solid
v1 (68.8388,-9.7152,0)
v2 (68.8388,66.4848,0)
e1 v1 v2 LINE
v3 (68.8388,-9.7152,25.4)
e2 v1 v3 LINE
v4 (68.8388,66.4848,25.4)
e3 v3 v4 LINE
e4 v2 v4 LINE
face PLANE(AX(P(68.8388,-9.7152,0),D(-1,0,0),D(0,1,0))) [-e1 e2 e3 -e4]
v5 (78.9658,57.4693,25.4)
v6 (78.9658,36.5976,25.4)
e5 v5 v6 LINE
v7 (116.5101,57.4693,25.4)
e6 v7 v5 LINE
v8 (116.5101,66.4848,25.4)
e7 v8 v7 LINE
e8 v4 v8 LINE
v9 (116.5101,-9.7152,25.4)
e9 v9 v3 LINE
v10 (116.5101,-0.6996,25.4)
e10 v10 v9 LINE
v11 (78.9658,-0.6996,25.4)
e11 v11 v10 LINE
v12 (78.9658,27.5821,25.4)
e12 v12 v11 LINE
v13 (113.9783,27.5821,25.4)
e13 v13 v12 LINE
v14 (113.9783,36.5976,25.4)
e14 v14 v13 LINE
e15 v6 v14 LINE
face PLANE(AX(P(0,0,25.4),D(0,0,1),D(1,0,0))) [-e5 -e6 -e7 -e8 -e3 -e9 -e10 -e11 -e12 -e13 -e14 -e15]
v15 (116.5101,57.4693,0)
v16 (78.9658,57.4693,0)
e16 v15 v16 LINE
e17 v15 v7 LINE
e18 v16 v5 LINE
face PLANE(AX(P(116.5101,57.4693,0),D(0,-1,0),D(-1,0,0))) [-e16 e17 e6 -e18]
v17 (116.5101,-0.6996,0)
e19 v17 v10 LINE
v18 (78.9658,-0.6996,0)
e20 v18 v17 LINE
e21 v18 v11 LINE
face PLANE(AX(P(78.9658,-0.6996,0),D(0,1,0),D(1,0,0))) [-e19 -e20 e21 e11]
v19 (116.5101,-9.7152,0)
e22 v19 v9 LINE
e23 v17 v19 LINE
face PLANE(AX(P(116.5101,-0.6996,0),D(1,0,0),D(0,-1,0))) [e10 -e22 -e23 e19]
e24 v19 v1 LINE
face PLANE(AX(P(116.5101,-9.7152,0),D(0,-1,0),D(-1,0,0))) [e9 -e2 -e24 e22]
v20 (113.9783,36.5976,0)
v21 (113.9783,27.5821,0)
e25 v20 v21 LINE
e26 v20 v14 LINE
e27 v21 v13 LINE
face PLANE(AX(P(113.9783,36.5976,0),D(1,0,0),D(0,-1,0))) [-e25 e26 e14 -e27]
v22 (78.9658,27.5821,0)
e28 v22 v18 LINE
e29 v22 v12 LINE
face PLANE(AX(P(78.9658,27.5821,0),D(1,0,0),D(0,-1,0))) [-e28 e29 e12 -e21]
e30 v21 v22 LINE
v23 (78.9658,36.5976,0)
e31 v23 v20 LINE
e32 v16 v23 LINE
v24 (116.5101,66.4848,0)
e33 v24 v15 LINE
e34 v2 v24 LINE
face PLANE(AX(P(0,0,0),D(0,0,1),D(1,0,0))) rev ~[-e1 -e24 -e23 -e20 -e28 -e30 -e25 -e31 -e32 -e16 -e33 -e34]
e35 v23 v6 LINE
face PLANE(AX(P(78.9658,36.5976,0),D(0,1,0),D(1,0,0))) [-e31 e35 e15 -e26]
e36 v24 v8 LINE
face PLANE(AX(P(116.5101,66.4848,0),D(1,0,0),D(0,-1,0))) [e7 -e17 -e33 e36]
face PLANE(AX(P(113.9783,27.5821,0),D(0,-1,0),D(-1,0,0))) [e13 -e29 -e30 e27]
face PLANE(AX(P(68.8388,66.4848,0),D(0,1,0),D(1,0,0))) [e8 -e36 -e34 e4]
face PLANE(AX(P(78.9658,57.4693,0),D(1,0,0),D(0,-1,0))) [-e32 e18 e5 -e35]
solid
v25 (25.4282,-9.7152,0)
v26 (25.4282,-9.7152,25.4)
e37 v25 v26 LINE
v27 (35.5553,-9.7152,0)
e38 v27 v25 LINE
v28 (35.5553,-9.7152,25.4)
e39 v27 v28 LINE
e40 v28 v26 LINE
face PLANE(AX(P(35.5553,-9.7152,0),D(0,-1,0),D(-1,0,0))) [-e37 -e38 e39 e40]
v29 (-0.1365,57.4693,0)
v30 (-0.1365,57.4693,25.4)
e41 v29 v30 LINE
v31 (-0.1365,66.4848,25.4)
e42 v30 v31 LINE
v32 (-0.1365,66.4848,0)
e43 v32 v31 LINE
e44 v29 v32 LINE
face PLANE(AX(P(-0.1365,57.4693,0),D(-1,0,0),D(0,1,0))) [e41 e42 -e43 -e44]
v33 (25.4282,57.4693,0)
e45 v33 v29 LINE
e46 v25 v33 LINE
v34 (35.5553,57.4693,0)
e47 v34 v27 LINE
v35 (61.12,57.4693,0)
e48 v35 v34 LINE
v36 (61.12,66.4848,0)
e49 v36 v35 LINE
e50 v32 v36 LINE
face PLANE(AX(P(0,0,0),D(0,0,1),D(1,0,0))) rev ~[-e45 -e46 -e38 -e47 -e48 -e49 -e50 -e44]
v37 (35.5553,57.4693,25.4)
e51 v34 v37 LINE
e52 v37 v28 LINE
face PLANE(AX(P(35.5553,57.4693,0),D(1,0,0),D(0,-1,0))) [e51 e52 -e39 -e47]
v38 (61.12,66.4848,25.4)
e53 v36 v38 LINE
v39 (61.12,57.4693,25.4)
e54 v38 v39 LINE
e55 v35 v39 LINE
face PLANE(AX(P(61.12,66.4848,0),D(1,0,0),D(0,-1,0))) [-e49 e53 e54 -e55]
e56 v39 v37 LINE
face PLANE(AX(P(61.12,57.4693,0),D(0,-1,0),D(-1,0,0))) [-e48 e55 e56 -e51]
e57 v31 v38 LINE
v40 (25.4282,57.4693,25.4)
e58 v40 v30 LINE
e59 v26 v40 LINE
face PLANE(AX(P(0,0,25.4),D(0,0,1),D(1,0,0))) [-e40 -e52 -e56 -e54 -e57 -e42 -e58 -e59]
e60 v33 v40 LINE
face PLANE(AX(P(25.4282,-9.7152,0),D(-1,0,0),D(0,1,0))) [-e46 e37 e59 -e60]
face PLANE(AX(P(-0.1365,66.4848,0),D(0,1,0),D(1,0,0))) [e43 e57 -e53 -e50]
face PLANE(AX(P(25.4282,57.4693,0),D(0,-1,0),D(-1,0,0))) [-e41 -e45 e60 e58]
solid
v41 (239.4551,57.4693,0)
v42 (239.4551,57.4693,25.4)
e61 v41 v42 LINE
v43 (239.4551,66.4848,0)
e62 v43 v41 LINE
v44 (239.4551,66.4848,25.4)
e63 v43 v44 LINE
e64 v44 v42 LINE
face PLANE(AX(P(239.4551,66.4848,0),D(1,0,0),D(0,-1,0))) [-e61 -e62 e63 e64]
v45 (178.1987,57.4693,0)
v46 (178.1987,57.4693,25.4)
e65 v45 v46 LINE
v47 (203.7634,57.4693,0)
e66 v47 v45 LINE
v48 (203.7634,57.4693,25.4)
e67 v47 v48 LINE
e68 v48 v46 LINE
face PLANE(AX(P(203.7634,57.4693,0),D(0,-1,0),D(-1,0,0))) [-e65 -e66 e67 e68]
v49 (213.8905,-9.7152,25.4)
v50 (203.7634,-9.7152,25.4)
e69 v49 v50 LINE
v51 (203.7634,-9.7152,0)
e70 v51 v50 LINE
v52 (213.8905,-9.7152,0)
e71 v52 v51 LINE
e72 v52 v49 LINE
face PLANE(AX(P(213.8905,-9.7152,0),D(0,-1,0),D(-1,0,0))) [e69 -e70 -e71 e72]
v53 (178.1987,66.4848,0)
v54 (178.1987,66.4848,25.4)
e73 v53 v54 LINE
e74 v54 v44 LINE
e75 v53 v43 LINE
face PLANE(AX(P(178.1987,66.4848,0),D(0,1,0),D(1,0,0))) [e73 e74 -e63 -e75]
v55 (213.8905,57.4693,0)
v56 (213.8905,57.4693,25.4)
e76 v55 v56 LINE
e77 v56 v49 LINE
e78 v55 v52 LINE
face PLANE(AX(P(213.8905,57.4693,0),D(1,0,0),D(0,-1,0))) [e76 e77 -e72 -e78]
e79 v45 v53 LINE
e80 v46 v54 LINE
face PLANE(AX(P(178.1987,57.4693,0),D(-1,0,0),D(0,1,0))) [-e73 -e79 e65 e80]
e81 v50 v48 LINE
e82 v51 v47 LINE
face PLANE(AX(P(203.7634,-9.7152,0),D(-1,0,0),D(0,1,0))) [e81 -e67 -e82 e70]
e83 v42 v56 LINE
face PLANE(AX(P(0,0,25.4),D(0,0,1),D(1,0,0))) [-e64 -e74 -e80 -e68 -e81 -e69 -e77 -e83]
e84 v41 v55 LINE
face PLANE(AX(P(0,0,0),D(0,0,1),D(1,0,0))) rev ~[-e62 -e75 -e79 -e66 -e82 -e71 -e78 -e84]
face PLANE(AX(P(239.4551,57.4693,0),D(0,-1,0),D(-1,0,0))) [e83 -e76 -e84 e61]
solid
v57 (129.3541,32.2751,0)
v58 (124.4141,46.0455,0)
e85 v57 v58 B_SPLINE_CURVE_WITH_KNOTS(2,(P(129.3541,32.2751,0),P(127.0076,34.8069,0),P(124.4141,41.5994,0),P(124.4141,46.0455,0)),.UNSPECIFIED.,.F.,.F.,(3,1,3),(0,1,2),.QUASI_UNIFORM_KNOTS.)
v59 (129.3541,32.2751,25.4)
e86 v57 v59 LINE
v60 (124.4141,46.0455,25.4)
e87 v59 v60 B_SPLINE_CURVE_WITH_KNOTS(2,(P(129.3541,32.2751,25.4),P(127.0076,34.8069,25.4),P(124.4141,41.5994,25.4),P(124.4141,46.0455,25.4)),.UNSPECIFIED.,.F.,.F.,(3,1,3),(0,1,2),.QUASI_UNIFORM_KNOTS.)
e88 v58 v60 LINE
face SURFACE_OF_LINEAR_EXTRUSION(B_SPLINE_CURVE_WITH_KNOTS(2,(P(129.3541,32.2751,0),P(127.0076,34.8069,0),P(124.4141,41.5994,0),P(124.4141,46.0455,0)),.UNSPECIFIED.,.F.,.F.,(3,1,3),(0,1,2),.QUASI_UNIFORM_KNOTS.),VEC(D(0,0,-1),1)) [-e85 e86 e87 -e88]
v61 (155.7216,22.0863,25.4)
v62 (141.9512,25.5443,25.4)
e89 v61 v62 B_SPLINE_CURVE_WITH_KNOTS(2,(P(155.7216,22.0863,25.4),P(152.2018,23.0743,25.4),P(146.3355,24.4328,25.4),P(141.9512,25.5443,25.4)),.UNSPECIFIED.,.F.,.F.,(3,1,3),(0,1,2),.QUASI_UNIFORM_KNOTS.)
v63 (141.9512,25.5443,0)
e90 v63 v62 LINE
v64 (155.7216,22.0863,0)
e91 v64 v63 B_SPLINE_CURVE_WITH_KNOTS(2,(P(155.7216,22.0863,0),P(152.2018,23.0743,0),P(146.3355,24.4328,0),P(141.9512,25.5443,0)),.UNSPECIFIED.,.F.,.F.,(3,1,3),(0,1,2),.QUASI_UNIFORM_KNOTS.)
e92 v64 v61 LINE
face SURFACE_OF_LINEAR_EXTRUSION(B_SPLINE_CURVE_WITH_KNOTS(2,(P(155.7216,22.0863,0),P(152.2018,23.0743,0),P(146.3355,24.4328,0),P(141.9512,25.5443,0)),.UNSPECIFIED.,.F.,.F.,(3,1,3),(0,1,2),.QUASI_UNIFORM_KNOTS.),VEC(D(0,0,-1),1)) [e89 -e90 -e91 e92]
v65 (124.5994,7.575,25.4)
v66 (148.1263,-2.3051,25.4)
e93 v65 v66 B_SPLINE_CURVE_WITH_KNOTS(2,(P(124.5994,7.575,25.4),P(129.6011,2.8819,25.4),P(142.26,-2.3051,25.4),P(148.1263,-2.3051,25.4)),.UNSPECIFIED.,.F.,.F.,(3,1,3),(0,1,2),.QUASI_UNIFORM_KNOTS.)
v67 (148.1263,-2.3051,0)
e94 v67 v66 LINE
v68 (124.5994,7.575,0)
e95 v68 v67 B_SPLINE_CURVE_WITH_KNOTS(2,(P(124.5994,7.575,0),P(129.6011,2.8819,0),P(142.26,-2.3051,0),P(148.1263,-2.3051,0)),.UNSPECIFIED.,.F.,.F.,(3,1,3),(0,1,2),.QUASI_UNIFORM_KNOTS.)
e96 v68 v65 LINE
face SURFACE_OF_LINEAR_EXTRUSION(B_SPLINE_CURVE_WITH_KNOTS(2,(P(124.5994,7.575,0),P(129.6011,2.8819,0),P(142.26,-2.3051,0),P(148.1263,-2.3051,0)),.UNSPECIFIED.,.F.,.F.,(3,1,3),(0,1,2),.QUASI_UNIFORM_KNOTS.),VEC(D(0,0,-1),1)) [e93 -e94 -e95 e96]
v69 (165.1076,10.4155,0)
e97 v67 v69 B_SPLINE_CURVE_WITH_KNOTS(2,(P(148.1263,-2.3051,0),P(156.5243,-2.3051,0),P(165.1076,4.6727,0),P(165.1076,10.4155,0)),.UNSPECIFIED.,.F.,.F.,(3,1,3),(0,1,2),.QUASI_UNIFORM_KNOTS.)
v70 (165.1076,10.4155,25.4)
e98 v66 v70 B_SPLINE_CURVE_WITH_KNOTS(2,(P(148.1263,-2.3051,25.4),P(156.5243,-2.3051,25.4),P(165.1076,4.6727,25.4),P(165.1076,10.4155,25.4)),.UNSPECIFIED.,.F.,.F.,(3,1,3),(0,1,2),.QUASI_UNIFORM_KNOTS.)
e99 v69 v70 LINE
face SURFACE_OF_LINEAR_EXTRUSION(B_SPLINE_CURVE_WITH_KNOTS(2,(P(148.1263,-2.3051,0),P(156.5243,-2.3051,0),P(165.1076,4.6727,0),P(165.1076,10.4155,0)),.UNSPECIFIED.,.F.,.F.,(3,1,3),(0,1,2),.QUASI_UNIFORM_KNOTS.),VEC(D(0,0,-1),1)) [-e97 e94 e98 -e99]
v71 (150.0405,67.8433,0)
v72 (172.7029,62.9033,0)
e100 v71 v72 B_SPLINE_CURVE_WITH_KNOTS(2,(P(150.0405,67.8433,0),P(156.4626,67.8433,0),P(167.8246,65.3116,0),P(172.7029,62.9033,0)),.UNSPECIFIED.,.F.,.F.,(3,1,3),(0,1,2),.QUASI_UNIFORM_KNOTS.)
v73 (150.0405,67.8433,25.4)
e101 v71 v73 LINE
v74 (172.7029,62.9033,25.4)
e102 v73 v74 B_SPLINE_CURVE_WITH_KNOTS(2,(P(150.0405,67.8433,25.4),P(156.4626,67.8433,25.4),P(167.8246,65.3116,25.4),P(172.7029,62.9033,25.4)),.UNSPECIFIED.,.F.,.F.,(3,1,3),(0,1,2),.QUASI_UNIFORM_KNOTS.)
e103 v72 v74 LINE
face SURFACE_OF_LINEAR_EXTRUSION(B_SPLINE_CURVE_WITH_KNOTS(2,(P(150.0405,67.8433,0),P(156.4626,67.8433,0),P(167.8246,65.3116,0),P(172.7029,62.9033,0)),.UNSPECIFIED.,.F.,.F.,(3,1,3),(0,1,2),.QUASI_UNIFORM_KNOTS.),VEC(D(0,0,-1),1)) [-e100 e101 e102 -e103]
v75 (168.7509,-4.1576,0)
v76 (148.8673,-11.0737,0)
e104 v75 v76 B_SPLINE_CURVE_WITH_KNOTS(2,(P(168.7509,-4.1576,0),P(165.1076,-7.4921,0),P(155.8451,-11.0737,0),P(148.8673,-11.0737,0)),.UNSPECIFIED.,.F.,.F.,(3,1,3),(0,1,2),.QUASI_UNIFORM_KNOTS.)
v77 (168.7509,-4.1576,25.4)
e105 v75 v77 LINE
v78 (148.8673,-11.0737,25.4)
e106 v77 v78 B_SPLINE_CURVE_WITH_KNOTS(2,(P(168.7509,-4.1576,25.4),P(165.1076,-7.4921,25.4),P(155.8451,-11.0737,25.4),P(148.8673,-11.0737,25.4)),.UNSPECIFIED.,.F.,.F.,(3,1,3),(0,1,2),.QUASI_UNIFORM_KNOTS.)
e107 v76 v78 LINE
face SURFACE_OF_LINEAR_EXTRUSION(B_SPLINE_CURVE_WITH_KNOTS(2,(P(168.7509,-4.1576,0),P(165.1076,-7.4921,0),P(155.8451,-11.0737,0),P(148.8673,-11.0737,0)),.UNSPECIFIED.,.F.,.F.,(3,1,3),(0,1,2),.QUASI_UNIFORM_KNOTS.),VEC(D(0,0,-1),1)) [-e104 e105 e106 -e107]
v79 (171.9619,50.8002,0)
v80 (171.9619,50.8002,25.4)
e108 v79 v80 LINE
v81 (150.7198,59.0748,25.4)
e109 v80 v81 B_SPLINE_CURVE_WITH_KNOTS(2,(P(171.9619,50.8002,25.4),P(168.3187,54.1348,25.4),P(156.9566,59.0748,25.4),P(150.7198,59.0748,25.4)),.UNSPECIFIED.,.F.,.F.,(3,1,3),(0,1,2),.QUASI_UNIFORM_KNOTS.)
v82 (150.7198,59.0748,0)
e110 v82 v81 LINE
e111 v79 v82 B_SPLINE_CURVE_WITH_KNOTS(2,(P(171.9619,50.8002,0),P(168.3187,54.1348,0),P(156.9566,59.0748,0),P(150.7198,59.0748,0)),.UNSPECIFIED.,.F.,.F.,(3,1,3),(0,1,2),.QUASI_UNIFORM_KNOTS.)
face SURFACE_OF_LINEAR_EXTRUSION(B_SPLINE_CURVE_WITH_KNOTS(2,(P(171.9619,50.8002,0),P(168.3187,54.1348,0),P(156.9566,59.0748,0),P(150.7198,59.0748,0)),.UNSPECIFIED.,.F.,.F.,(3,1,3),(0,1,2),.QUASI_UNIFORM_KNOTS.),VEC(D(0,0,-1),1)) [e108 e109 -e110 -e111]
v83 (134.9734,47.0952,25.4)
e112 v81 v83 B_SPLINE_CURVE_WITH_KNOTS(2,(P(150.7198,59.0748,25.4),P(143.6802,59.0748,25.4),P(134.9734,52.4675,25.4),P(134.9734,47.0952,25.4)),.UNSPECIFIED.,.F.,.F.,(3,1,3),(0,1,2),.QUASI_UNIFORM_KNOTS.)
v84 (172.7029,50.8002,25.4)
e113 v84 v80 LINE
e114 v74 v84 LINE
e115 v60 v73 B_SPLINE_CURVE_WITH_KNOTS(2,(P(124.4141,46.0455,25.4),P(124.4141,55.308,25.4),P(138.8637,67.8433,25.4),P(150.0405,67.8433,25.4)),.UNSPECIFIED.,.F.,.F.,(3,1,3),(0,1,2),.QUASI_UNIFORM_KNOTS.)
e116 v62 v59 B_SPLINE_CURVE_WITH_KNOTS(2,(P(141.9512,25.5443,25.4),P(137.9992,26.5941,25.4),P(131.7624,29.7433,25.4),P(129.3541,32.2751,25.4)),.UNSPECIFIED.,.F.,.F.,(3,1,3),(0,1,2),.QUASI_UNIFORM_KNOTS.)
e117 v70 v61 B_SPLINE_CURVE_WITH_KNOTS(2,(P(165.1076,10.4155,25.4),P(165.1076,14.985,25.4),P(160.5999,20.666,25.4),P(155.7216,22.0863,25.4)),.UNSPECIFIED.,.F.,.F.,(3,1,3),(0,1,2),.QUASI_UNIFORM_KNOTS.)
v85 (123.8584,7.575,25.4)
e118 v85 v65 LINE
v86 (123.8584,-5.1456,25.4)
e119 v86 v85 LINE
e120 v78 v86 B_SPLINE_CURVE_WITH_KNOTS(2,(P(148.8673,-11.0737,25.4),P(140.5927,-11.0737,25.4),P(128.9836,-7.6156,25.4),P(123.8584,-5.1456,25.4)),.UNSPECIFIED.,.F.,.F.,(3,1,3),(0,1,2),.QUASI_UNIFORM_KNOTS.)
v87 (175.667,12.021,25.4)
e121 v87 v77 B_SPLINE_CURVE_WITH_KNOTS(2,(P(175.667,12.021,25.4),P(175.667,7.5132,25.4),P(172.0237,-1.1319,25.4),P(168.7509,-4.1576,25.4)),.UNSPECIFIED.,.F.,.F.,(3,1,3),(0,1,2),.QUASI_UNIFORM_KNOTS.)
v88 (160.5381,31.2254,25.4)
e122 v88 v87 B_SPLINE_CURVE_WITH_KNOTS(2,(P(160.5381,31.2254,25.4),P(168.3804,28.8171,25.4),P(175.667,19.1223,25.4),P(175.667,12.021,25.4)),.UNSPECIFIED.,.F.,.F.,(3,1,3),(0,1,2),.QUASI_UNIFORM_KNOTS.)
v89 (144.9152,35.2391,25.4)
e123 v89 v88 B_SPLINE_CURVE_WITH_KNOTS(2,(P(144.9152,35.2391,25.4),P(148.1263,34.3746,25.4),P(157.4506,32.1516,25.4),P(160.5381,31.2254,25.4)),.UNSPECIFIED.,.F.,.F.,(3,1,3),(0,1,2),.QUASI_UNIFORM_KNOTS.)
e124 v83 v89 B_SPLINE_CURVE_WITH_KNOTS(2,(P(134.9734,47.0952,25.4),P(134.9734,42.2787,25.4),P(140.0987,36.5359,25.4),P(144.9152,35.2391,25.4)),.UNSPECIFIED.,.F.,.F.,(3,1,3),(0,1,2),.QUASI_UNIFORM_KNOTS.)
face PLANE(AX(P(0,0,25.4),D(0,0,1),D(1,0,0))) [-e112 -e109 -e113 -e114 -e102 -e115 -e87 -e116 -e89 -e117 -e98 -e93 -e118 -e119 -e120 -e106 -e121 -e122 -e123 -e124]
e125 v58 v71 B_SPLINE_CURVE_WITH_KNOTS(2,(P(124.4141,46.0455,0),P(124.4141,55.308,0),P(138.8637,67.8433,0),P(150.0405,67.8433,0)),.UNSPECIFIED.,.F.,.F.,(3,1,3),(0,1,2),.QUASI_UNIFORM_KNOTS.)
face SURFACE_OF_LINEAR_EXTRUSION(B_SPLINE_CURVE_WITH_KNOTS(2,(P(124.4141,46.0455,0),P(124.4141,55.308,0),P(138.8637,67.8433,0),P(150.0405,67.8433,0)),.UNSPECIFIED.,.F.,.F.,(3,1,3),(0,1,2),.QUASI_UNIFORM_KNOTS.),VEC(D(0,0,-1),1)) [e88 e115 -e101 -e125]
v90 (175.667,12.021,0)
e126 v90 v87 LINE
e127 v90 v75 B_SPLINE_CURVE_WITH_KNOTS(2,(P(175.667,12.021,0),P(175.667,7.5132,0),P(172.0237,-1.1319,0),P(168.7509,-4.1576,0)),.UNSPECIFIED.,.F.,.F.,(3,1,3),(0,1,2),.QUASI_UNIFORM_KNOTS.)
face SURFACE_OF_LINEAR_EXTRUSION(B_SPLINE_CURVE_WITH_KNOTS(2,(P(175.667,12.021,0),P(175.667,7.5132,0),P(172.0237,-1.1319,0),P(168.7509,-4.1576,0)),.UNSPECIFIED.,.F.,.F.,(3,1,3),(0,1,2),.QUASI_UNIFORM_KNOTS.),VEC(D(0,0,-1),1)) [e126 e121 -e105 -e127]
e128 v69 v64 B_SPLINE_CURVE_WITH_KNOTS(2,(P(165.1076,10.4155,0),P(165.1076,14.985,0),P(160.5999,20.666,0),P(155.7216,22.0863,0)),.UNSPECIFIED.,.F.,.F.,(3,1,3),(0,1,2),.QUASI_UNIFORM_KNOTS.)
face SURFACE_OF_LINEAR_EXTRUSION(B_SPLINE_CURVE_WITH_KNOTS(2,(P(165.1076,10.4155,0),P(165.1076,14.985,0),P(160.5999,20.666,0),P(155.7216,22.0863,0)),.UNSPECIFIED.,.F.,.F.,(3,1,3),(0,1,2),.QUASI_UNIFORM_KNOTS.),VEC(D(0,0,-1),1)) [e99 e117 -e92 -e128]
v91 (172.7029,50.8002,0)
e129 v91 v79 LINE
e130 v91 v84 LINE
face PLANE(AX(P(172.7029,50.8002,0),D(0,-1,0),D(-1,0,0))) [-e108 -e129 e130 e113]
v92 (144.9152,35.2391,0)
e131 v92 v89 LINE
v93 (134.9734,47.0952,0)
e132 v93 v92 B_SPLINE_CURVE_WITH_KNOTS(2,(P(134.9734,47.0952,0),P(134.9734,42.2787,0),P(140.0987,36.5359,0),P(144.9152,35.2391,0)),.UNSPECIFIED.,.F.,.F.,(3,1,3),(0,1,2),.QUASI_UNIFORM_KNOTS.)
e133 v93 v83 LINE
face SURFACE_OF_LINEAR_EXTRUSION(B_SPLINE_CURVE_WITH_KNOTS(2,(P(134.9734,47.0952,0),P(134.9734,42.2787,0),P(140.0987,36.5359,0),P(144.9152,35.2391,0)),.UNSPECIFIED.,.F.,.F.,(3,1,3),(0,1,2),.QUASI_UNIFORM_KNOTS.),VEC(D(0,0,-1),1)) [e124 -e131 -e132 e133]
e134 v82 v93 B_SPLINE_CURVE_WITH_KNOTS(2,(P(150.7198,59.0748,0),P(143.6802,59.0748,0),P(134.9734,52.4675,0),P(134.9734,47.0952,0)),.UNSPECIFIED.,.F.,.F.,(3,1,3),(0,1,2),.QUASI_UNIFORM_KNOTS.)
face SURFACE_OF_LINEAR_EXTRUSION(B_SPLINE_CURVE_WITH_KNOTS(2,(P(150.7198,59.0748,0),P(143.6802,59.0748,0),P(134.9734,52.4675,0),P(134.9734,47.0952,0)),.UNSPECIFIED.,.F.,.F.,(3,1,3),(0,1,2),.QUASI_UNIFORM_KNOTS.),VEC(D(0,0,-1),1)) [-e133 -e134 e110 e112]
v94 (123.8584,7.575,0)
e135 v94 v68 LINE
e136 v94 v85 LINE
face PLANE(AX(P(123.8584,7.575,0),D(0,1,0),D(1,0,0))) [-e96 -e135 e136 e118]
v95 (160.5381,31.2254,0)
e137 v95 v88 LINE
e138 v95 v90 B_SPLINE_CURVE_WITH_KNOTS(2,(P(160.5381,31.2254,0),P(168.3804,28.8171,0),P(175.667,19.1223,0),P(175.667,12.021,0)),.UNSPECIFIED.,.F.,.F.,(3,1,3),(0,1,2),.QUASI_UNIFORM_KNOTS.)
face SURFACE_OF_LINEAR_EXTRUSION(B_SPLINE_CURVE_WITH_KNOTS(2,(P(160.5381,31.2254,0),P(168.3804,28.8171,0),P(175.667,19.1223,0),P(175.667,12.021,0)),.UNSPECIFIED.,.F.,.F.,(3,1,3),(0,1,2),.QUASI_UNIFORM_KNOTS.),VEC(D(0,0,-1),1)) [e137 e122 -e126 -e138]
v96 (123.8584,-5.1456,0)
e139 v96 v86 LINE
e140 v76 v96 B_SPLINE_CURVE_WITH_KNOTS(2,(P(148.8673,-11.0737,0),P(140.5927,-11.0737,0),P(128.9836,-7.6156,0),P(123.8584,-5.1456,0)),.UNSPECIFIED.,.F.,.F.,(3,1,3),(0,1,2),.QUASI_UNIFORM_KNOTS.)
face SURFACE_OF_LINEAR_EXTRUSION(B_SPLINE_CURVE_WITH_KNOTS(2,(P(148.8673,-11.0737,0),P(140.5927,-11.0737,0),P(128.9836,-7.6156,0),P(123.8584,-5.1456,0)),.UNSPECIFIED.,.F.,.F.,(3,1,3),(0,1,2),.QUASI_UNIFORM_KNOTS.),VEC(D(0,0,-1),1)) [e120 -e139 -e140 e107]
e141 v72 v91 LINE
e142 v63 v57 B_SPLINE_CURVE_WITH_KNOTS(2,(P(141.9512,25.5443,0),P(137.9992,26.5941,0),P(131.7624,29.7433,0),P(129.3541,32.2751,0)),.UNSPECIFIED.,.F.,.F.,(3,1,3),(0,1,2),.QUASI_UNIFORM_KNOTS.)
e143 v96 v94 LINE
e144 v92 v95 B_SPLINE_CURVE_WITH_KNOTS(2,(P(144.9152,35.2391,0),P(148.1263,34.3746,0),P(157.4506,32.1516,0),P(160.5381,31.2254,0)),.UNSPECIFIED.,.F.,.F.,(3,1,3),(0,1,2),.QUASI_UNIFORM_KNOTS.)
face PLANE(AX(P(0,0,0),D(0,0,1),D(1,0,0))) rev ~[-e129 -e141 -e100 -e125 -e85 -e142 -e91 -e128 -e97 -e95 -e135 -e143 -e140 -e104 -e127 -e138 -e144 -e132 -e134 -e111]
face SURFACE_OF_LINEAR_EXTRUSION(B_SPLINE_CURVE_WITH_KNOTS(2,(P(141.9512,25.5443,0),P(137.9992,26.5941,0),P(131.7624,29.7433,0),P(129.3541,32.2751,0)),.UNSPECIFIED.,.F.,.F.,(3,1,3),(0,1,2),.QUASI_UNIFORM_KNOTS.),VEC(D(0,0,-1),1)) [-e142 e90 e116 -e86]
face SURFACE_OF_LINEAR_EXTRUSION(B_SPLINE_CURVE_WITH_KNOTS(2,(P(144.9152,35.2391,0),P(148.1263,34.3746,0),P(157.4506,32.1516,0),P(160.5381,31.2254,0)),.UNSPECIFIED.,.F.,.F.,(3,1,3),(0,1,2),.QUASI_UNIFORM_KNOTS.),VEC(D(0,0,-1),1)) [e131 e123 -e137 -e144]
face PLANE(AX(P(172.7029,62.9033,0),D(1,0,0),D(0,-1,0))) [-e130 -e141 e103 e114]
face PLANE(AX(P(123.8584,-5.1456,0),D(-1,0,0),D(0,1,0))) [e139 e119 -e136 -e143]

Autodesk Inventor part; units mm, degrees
ref_plane "YZ Plane" through (0, 0, 0) normal (1, 0, 0) x (0, 1, 0)
ref_plane "XZ Plane" through (0, 0, 0) normal (0, 1, 0) x (-1, 0, 0)
ref_plane "XY Plane" through (0, 0, 0) normal (0, 0, 1) x (1, 0, 0)
sketch "Sketch1" plane through (0, 0, 0) normal (0, 0, 1) x (1, 0, 0)
  line L0 (-0.0747, 67.8433) -> (64.3882, 67.8433) construction
  line L1 (64.3882, 67.8433) -> (64.3882, 0.2263) construction
  line L2 (64.3882, 0.2263) -> (-0.0747, 0.2263) construction
  line L3 (-0.0747, 0.2263) -> (-0.0747, 67.8433) construction
  line L4 (25.4282, -9.7152) -> (25.4282, 57.4693)
  line L5 (25.4282, 57.4693) -> (-0.1365, 57.4693)
  line L6 (-0.1365, 57.4693) -> (-0.1365, 66.4848)
  line L7 (-0.1365, 66.4848) -> (61.12, 66.4848)
  line L8 (61.12, 66.4848) -> (61.12, 57.4693)
  line L9 (61.12, 57.4693) -> (35.5553, 57.4693)
  line L10 (35.5553, 57.4693) -> (35.5553, -9.7152)
  line L11 (35.5553, -9.7152) -> (25.4282, -9.7152)
  line L12 (68.8388, -9.7152) -> (68.8388, 66.4848)
  line L13 (68.8388, 66.4848) -> (116.5101, 66.4848)
  line L14 (116.5101, 66.4848) -> (116.5101, 57.4693)
  line L15 (116.5101, 57.4693) -> (78.9658, 57.4693)
  line L16 (78.9658, 57.4693) -> (78.9658, 36.5976)
  line L17 (78.9658, 36.5976) -> (113.9783, 36.5976)
  line L18 (113.9783, 36.5976) -> (113.9783, 27.5821)
  line L19 (113.9783, 27.5821) -> (78.9658, 27.5821)
  line L20 (78.9658, 27.5821) -> (78.9658, -0.6996)
  line L21 (78.9658, -0.6996) -> (116.5101, -0.6996)
  line L22 (116.5101, -0.6996) -> (116.5101, -9.7152)
  line L23 (116.5101, -9.7152) -> (68.8388, -9.7152)
  spline S0 degree 2 poles (148.8673, -11.0737) (140.5927, -11.0737) (128.9836, -7.6156) (123.8584, -5.1456) knots 0 0 0 1 2 2 2
  line L24 (123.8584, -5.1456) -> (123.8584, 7.575)
  line L25 (123.8584, 7.575) -> (124.5994, 7.575)
  spline S1 degree 2 poles (124.5994, 7.575) (129.6011, 2.8819) (142.26, -2.3051) (148.1263, -2.3051) knots 0 0 0 1 2 2 2
  spline S2 degree 2 poles (148.1263, -2.3051) (156.5243, -2.3051) (165.1076, 4.6727) (165.1076, 10.4155) knots 0 0 0 1 2 2 2
  spline S3 degree 2 poles (165.1076, 10.4155) (165.1076, 14.985) (160.5999, 20.666) (155.7216, 22.0863) knots 0 0 0 1 2 2 2
  spline S4 degree 2 poles (155.7216, 22.0863) (152.2018, 23.0743) (146.3355, 24.4328) (141.9512, 25.5443) knots 0 0 0 1 2 2 2
  spline S5 degree 2 poles (141.9512, 25.5443) (137.9992, 26.5941) (131.7624, 29.7433) (129.3541, 32.2751) knots 0 0 0 1 2 2 2
  spline S6 degree 2 poles (129.3541, 32.2751) (127.0076, 34.8069) (124.4141, 41.5994) (124.4141, 46.0455) knots 0 0 0 1 2 2 2
  spline S7 degree 2 poles (124.4141, 46.0455) (124.4141, 55.308) (138.8637, 67.8433) (150.0405, 67.8433) knots 0 0 0 1 2 2 2
  spline S8 degree 2 poles (150.0405, 67.8433) (156.4626, 67.8433) (167.8246, 65.3116) (172.7029, 62.9033) knots 0 0 0 1 2 2 2
  line L26 (172.7029, 62.9033) -> (172.7029, 50.8002)
  line L27 (172.7029, 50.8002) -> (171.9619, 50.8002)
  spline S9 degree 2 poles (171.9619, 50.8002) (168.3187, 54.1348) (156.9566, 59.0748) (150.7198, 59.0748) knots 0 0 0 1 2 2 2
  spline S10 degree 2 poles (150.7198, 59.0748) (143.6802, 59.0748) (134.9734, 52.4675) (134.9734, 47.0952) knots 0 0 0 1 2 2 2
  spline S11 degree 2 poles (134.9734, 47.0952) (134.9734, 42.2787) (140.0987, 36.5359) (144.9152, 35.2391) knots 0 0 0 1 2 2 2
  spline S12 degree 2 poles (144.9152, 35.2391) (148.1263, 34.3746) (157.4506, 32.1516) (160.5381, 31.2254) knots 0 0 0 1 2 2 2
  spline S13 degree 2 poles (160.5381, 31.2254) (168.3804, 28.8171) (175.667, 19.1223) (175.667, 12.021) knots 0 0 0 1 2 2 2
  spline S14 degree 2 poles (175.667, 12.021) (175.667, 7.5132) (172.0237, -1.1319) (168.7509, -4.1576) knots 0 0 0 1 2 2 2
  spline S15 degree 2 poles (168.7509, -4.1576) (165.1076, -7.4921) (155.8451, -11.0737) (148.8673, -11.0737) knots 0 0 0 1 2 2 2
  line L28 (203.7634, -9.7152) -> (203.7634, 57.4693)
  line L29 (203.7634, 57.4693) -> (178.1987, 57.4693)
  line L30 (178.1987, 57.4693) -> (178.1987, 66.4848)
  line L31 (178.1987, 66.4848) -> (239.4551, 66.4848)
  line L32 (239.4551, 66.4848) -> (239.4551, 57.4693)
  line L33 (239.4551, 57.4693) -> (213.8905, 57.4693)
  line L34 (213.8905, 57.4693) -> (213.8905, -9.7152)
  line L35 (213.8905, -9.7152) -> (203.7634, -9.7152)
  point P0 (0, 0)
extrude "Extrusion1" add sketch "Sketch1" along normal blind 25.4
properties part number "Standard - Amber select" material "Limestone"
